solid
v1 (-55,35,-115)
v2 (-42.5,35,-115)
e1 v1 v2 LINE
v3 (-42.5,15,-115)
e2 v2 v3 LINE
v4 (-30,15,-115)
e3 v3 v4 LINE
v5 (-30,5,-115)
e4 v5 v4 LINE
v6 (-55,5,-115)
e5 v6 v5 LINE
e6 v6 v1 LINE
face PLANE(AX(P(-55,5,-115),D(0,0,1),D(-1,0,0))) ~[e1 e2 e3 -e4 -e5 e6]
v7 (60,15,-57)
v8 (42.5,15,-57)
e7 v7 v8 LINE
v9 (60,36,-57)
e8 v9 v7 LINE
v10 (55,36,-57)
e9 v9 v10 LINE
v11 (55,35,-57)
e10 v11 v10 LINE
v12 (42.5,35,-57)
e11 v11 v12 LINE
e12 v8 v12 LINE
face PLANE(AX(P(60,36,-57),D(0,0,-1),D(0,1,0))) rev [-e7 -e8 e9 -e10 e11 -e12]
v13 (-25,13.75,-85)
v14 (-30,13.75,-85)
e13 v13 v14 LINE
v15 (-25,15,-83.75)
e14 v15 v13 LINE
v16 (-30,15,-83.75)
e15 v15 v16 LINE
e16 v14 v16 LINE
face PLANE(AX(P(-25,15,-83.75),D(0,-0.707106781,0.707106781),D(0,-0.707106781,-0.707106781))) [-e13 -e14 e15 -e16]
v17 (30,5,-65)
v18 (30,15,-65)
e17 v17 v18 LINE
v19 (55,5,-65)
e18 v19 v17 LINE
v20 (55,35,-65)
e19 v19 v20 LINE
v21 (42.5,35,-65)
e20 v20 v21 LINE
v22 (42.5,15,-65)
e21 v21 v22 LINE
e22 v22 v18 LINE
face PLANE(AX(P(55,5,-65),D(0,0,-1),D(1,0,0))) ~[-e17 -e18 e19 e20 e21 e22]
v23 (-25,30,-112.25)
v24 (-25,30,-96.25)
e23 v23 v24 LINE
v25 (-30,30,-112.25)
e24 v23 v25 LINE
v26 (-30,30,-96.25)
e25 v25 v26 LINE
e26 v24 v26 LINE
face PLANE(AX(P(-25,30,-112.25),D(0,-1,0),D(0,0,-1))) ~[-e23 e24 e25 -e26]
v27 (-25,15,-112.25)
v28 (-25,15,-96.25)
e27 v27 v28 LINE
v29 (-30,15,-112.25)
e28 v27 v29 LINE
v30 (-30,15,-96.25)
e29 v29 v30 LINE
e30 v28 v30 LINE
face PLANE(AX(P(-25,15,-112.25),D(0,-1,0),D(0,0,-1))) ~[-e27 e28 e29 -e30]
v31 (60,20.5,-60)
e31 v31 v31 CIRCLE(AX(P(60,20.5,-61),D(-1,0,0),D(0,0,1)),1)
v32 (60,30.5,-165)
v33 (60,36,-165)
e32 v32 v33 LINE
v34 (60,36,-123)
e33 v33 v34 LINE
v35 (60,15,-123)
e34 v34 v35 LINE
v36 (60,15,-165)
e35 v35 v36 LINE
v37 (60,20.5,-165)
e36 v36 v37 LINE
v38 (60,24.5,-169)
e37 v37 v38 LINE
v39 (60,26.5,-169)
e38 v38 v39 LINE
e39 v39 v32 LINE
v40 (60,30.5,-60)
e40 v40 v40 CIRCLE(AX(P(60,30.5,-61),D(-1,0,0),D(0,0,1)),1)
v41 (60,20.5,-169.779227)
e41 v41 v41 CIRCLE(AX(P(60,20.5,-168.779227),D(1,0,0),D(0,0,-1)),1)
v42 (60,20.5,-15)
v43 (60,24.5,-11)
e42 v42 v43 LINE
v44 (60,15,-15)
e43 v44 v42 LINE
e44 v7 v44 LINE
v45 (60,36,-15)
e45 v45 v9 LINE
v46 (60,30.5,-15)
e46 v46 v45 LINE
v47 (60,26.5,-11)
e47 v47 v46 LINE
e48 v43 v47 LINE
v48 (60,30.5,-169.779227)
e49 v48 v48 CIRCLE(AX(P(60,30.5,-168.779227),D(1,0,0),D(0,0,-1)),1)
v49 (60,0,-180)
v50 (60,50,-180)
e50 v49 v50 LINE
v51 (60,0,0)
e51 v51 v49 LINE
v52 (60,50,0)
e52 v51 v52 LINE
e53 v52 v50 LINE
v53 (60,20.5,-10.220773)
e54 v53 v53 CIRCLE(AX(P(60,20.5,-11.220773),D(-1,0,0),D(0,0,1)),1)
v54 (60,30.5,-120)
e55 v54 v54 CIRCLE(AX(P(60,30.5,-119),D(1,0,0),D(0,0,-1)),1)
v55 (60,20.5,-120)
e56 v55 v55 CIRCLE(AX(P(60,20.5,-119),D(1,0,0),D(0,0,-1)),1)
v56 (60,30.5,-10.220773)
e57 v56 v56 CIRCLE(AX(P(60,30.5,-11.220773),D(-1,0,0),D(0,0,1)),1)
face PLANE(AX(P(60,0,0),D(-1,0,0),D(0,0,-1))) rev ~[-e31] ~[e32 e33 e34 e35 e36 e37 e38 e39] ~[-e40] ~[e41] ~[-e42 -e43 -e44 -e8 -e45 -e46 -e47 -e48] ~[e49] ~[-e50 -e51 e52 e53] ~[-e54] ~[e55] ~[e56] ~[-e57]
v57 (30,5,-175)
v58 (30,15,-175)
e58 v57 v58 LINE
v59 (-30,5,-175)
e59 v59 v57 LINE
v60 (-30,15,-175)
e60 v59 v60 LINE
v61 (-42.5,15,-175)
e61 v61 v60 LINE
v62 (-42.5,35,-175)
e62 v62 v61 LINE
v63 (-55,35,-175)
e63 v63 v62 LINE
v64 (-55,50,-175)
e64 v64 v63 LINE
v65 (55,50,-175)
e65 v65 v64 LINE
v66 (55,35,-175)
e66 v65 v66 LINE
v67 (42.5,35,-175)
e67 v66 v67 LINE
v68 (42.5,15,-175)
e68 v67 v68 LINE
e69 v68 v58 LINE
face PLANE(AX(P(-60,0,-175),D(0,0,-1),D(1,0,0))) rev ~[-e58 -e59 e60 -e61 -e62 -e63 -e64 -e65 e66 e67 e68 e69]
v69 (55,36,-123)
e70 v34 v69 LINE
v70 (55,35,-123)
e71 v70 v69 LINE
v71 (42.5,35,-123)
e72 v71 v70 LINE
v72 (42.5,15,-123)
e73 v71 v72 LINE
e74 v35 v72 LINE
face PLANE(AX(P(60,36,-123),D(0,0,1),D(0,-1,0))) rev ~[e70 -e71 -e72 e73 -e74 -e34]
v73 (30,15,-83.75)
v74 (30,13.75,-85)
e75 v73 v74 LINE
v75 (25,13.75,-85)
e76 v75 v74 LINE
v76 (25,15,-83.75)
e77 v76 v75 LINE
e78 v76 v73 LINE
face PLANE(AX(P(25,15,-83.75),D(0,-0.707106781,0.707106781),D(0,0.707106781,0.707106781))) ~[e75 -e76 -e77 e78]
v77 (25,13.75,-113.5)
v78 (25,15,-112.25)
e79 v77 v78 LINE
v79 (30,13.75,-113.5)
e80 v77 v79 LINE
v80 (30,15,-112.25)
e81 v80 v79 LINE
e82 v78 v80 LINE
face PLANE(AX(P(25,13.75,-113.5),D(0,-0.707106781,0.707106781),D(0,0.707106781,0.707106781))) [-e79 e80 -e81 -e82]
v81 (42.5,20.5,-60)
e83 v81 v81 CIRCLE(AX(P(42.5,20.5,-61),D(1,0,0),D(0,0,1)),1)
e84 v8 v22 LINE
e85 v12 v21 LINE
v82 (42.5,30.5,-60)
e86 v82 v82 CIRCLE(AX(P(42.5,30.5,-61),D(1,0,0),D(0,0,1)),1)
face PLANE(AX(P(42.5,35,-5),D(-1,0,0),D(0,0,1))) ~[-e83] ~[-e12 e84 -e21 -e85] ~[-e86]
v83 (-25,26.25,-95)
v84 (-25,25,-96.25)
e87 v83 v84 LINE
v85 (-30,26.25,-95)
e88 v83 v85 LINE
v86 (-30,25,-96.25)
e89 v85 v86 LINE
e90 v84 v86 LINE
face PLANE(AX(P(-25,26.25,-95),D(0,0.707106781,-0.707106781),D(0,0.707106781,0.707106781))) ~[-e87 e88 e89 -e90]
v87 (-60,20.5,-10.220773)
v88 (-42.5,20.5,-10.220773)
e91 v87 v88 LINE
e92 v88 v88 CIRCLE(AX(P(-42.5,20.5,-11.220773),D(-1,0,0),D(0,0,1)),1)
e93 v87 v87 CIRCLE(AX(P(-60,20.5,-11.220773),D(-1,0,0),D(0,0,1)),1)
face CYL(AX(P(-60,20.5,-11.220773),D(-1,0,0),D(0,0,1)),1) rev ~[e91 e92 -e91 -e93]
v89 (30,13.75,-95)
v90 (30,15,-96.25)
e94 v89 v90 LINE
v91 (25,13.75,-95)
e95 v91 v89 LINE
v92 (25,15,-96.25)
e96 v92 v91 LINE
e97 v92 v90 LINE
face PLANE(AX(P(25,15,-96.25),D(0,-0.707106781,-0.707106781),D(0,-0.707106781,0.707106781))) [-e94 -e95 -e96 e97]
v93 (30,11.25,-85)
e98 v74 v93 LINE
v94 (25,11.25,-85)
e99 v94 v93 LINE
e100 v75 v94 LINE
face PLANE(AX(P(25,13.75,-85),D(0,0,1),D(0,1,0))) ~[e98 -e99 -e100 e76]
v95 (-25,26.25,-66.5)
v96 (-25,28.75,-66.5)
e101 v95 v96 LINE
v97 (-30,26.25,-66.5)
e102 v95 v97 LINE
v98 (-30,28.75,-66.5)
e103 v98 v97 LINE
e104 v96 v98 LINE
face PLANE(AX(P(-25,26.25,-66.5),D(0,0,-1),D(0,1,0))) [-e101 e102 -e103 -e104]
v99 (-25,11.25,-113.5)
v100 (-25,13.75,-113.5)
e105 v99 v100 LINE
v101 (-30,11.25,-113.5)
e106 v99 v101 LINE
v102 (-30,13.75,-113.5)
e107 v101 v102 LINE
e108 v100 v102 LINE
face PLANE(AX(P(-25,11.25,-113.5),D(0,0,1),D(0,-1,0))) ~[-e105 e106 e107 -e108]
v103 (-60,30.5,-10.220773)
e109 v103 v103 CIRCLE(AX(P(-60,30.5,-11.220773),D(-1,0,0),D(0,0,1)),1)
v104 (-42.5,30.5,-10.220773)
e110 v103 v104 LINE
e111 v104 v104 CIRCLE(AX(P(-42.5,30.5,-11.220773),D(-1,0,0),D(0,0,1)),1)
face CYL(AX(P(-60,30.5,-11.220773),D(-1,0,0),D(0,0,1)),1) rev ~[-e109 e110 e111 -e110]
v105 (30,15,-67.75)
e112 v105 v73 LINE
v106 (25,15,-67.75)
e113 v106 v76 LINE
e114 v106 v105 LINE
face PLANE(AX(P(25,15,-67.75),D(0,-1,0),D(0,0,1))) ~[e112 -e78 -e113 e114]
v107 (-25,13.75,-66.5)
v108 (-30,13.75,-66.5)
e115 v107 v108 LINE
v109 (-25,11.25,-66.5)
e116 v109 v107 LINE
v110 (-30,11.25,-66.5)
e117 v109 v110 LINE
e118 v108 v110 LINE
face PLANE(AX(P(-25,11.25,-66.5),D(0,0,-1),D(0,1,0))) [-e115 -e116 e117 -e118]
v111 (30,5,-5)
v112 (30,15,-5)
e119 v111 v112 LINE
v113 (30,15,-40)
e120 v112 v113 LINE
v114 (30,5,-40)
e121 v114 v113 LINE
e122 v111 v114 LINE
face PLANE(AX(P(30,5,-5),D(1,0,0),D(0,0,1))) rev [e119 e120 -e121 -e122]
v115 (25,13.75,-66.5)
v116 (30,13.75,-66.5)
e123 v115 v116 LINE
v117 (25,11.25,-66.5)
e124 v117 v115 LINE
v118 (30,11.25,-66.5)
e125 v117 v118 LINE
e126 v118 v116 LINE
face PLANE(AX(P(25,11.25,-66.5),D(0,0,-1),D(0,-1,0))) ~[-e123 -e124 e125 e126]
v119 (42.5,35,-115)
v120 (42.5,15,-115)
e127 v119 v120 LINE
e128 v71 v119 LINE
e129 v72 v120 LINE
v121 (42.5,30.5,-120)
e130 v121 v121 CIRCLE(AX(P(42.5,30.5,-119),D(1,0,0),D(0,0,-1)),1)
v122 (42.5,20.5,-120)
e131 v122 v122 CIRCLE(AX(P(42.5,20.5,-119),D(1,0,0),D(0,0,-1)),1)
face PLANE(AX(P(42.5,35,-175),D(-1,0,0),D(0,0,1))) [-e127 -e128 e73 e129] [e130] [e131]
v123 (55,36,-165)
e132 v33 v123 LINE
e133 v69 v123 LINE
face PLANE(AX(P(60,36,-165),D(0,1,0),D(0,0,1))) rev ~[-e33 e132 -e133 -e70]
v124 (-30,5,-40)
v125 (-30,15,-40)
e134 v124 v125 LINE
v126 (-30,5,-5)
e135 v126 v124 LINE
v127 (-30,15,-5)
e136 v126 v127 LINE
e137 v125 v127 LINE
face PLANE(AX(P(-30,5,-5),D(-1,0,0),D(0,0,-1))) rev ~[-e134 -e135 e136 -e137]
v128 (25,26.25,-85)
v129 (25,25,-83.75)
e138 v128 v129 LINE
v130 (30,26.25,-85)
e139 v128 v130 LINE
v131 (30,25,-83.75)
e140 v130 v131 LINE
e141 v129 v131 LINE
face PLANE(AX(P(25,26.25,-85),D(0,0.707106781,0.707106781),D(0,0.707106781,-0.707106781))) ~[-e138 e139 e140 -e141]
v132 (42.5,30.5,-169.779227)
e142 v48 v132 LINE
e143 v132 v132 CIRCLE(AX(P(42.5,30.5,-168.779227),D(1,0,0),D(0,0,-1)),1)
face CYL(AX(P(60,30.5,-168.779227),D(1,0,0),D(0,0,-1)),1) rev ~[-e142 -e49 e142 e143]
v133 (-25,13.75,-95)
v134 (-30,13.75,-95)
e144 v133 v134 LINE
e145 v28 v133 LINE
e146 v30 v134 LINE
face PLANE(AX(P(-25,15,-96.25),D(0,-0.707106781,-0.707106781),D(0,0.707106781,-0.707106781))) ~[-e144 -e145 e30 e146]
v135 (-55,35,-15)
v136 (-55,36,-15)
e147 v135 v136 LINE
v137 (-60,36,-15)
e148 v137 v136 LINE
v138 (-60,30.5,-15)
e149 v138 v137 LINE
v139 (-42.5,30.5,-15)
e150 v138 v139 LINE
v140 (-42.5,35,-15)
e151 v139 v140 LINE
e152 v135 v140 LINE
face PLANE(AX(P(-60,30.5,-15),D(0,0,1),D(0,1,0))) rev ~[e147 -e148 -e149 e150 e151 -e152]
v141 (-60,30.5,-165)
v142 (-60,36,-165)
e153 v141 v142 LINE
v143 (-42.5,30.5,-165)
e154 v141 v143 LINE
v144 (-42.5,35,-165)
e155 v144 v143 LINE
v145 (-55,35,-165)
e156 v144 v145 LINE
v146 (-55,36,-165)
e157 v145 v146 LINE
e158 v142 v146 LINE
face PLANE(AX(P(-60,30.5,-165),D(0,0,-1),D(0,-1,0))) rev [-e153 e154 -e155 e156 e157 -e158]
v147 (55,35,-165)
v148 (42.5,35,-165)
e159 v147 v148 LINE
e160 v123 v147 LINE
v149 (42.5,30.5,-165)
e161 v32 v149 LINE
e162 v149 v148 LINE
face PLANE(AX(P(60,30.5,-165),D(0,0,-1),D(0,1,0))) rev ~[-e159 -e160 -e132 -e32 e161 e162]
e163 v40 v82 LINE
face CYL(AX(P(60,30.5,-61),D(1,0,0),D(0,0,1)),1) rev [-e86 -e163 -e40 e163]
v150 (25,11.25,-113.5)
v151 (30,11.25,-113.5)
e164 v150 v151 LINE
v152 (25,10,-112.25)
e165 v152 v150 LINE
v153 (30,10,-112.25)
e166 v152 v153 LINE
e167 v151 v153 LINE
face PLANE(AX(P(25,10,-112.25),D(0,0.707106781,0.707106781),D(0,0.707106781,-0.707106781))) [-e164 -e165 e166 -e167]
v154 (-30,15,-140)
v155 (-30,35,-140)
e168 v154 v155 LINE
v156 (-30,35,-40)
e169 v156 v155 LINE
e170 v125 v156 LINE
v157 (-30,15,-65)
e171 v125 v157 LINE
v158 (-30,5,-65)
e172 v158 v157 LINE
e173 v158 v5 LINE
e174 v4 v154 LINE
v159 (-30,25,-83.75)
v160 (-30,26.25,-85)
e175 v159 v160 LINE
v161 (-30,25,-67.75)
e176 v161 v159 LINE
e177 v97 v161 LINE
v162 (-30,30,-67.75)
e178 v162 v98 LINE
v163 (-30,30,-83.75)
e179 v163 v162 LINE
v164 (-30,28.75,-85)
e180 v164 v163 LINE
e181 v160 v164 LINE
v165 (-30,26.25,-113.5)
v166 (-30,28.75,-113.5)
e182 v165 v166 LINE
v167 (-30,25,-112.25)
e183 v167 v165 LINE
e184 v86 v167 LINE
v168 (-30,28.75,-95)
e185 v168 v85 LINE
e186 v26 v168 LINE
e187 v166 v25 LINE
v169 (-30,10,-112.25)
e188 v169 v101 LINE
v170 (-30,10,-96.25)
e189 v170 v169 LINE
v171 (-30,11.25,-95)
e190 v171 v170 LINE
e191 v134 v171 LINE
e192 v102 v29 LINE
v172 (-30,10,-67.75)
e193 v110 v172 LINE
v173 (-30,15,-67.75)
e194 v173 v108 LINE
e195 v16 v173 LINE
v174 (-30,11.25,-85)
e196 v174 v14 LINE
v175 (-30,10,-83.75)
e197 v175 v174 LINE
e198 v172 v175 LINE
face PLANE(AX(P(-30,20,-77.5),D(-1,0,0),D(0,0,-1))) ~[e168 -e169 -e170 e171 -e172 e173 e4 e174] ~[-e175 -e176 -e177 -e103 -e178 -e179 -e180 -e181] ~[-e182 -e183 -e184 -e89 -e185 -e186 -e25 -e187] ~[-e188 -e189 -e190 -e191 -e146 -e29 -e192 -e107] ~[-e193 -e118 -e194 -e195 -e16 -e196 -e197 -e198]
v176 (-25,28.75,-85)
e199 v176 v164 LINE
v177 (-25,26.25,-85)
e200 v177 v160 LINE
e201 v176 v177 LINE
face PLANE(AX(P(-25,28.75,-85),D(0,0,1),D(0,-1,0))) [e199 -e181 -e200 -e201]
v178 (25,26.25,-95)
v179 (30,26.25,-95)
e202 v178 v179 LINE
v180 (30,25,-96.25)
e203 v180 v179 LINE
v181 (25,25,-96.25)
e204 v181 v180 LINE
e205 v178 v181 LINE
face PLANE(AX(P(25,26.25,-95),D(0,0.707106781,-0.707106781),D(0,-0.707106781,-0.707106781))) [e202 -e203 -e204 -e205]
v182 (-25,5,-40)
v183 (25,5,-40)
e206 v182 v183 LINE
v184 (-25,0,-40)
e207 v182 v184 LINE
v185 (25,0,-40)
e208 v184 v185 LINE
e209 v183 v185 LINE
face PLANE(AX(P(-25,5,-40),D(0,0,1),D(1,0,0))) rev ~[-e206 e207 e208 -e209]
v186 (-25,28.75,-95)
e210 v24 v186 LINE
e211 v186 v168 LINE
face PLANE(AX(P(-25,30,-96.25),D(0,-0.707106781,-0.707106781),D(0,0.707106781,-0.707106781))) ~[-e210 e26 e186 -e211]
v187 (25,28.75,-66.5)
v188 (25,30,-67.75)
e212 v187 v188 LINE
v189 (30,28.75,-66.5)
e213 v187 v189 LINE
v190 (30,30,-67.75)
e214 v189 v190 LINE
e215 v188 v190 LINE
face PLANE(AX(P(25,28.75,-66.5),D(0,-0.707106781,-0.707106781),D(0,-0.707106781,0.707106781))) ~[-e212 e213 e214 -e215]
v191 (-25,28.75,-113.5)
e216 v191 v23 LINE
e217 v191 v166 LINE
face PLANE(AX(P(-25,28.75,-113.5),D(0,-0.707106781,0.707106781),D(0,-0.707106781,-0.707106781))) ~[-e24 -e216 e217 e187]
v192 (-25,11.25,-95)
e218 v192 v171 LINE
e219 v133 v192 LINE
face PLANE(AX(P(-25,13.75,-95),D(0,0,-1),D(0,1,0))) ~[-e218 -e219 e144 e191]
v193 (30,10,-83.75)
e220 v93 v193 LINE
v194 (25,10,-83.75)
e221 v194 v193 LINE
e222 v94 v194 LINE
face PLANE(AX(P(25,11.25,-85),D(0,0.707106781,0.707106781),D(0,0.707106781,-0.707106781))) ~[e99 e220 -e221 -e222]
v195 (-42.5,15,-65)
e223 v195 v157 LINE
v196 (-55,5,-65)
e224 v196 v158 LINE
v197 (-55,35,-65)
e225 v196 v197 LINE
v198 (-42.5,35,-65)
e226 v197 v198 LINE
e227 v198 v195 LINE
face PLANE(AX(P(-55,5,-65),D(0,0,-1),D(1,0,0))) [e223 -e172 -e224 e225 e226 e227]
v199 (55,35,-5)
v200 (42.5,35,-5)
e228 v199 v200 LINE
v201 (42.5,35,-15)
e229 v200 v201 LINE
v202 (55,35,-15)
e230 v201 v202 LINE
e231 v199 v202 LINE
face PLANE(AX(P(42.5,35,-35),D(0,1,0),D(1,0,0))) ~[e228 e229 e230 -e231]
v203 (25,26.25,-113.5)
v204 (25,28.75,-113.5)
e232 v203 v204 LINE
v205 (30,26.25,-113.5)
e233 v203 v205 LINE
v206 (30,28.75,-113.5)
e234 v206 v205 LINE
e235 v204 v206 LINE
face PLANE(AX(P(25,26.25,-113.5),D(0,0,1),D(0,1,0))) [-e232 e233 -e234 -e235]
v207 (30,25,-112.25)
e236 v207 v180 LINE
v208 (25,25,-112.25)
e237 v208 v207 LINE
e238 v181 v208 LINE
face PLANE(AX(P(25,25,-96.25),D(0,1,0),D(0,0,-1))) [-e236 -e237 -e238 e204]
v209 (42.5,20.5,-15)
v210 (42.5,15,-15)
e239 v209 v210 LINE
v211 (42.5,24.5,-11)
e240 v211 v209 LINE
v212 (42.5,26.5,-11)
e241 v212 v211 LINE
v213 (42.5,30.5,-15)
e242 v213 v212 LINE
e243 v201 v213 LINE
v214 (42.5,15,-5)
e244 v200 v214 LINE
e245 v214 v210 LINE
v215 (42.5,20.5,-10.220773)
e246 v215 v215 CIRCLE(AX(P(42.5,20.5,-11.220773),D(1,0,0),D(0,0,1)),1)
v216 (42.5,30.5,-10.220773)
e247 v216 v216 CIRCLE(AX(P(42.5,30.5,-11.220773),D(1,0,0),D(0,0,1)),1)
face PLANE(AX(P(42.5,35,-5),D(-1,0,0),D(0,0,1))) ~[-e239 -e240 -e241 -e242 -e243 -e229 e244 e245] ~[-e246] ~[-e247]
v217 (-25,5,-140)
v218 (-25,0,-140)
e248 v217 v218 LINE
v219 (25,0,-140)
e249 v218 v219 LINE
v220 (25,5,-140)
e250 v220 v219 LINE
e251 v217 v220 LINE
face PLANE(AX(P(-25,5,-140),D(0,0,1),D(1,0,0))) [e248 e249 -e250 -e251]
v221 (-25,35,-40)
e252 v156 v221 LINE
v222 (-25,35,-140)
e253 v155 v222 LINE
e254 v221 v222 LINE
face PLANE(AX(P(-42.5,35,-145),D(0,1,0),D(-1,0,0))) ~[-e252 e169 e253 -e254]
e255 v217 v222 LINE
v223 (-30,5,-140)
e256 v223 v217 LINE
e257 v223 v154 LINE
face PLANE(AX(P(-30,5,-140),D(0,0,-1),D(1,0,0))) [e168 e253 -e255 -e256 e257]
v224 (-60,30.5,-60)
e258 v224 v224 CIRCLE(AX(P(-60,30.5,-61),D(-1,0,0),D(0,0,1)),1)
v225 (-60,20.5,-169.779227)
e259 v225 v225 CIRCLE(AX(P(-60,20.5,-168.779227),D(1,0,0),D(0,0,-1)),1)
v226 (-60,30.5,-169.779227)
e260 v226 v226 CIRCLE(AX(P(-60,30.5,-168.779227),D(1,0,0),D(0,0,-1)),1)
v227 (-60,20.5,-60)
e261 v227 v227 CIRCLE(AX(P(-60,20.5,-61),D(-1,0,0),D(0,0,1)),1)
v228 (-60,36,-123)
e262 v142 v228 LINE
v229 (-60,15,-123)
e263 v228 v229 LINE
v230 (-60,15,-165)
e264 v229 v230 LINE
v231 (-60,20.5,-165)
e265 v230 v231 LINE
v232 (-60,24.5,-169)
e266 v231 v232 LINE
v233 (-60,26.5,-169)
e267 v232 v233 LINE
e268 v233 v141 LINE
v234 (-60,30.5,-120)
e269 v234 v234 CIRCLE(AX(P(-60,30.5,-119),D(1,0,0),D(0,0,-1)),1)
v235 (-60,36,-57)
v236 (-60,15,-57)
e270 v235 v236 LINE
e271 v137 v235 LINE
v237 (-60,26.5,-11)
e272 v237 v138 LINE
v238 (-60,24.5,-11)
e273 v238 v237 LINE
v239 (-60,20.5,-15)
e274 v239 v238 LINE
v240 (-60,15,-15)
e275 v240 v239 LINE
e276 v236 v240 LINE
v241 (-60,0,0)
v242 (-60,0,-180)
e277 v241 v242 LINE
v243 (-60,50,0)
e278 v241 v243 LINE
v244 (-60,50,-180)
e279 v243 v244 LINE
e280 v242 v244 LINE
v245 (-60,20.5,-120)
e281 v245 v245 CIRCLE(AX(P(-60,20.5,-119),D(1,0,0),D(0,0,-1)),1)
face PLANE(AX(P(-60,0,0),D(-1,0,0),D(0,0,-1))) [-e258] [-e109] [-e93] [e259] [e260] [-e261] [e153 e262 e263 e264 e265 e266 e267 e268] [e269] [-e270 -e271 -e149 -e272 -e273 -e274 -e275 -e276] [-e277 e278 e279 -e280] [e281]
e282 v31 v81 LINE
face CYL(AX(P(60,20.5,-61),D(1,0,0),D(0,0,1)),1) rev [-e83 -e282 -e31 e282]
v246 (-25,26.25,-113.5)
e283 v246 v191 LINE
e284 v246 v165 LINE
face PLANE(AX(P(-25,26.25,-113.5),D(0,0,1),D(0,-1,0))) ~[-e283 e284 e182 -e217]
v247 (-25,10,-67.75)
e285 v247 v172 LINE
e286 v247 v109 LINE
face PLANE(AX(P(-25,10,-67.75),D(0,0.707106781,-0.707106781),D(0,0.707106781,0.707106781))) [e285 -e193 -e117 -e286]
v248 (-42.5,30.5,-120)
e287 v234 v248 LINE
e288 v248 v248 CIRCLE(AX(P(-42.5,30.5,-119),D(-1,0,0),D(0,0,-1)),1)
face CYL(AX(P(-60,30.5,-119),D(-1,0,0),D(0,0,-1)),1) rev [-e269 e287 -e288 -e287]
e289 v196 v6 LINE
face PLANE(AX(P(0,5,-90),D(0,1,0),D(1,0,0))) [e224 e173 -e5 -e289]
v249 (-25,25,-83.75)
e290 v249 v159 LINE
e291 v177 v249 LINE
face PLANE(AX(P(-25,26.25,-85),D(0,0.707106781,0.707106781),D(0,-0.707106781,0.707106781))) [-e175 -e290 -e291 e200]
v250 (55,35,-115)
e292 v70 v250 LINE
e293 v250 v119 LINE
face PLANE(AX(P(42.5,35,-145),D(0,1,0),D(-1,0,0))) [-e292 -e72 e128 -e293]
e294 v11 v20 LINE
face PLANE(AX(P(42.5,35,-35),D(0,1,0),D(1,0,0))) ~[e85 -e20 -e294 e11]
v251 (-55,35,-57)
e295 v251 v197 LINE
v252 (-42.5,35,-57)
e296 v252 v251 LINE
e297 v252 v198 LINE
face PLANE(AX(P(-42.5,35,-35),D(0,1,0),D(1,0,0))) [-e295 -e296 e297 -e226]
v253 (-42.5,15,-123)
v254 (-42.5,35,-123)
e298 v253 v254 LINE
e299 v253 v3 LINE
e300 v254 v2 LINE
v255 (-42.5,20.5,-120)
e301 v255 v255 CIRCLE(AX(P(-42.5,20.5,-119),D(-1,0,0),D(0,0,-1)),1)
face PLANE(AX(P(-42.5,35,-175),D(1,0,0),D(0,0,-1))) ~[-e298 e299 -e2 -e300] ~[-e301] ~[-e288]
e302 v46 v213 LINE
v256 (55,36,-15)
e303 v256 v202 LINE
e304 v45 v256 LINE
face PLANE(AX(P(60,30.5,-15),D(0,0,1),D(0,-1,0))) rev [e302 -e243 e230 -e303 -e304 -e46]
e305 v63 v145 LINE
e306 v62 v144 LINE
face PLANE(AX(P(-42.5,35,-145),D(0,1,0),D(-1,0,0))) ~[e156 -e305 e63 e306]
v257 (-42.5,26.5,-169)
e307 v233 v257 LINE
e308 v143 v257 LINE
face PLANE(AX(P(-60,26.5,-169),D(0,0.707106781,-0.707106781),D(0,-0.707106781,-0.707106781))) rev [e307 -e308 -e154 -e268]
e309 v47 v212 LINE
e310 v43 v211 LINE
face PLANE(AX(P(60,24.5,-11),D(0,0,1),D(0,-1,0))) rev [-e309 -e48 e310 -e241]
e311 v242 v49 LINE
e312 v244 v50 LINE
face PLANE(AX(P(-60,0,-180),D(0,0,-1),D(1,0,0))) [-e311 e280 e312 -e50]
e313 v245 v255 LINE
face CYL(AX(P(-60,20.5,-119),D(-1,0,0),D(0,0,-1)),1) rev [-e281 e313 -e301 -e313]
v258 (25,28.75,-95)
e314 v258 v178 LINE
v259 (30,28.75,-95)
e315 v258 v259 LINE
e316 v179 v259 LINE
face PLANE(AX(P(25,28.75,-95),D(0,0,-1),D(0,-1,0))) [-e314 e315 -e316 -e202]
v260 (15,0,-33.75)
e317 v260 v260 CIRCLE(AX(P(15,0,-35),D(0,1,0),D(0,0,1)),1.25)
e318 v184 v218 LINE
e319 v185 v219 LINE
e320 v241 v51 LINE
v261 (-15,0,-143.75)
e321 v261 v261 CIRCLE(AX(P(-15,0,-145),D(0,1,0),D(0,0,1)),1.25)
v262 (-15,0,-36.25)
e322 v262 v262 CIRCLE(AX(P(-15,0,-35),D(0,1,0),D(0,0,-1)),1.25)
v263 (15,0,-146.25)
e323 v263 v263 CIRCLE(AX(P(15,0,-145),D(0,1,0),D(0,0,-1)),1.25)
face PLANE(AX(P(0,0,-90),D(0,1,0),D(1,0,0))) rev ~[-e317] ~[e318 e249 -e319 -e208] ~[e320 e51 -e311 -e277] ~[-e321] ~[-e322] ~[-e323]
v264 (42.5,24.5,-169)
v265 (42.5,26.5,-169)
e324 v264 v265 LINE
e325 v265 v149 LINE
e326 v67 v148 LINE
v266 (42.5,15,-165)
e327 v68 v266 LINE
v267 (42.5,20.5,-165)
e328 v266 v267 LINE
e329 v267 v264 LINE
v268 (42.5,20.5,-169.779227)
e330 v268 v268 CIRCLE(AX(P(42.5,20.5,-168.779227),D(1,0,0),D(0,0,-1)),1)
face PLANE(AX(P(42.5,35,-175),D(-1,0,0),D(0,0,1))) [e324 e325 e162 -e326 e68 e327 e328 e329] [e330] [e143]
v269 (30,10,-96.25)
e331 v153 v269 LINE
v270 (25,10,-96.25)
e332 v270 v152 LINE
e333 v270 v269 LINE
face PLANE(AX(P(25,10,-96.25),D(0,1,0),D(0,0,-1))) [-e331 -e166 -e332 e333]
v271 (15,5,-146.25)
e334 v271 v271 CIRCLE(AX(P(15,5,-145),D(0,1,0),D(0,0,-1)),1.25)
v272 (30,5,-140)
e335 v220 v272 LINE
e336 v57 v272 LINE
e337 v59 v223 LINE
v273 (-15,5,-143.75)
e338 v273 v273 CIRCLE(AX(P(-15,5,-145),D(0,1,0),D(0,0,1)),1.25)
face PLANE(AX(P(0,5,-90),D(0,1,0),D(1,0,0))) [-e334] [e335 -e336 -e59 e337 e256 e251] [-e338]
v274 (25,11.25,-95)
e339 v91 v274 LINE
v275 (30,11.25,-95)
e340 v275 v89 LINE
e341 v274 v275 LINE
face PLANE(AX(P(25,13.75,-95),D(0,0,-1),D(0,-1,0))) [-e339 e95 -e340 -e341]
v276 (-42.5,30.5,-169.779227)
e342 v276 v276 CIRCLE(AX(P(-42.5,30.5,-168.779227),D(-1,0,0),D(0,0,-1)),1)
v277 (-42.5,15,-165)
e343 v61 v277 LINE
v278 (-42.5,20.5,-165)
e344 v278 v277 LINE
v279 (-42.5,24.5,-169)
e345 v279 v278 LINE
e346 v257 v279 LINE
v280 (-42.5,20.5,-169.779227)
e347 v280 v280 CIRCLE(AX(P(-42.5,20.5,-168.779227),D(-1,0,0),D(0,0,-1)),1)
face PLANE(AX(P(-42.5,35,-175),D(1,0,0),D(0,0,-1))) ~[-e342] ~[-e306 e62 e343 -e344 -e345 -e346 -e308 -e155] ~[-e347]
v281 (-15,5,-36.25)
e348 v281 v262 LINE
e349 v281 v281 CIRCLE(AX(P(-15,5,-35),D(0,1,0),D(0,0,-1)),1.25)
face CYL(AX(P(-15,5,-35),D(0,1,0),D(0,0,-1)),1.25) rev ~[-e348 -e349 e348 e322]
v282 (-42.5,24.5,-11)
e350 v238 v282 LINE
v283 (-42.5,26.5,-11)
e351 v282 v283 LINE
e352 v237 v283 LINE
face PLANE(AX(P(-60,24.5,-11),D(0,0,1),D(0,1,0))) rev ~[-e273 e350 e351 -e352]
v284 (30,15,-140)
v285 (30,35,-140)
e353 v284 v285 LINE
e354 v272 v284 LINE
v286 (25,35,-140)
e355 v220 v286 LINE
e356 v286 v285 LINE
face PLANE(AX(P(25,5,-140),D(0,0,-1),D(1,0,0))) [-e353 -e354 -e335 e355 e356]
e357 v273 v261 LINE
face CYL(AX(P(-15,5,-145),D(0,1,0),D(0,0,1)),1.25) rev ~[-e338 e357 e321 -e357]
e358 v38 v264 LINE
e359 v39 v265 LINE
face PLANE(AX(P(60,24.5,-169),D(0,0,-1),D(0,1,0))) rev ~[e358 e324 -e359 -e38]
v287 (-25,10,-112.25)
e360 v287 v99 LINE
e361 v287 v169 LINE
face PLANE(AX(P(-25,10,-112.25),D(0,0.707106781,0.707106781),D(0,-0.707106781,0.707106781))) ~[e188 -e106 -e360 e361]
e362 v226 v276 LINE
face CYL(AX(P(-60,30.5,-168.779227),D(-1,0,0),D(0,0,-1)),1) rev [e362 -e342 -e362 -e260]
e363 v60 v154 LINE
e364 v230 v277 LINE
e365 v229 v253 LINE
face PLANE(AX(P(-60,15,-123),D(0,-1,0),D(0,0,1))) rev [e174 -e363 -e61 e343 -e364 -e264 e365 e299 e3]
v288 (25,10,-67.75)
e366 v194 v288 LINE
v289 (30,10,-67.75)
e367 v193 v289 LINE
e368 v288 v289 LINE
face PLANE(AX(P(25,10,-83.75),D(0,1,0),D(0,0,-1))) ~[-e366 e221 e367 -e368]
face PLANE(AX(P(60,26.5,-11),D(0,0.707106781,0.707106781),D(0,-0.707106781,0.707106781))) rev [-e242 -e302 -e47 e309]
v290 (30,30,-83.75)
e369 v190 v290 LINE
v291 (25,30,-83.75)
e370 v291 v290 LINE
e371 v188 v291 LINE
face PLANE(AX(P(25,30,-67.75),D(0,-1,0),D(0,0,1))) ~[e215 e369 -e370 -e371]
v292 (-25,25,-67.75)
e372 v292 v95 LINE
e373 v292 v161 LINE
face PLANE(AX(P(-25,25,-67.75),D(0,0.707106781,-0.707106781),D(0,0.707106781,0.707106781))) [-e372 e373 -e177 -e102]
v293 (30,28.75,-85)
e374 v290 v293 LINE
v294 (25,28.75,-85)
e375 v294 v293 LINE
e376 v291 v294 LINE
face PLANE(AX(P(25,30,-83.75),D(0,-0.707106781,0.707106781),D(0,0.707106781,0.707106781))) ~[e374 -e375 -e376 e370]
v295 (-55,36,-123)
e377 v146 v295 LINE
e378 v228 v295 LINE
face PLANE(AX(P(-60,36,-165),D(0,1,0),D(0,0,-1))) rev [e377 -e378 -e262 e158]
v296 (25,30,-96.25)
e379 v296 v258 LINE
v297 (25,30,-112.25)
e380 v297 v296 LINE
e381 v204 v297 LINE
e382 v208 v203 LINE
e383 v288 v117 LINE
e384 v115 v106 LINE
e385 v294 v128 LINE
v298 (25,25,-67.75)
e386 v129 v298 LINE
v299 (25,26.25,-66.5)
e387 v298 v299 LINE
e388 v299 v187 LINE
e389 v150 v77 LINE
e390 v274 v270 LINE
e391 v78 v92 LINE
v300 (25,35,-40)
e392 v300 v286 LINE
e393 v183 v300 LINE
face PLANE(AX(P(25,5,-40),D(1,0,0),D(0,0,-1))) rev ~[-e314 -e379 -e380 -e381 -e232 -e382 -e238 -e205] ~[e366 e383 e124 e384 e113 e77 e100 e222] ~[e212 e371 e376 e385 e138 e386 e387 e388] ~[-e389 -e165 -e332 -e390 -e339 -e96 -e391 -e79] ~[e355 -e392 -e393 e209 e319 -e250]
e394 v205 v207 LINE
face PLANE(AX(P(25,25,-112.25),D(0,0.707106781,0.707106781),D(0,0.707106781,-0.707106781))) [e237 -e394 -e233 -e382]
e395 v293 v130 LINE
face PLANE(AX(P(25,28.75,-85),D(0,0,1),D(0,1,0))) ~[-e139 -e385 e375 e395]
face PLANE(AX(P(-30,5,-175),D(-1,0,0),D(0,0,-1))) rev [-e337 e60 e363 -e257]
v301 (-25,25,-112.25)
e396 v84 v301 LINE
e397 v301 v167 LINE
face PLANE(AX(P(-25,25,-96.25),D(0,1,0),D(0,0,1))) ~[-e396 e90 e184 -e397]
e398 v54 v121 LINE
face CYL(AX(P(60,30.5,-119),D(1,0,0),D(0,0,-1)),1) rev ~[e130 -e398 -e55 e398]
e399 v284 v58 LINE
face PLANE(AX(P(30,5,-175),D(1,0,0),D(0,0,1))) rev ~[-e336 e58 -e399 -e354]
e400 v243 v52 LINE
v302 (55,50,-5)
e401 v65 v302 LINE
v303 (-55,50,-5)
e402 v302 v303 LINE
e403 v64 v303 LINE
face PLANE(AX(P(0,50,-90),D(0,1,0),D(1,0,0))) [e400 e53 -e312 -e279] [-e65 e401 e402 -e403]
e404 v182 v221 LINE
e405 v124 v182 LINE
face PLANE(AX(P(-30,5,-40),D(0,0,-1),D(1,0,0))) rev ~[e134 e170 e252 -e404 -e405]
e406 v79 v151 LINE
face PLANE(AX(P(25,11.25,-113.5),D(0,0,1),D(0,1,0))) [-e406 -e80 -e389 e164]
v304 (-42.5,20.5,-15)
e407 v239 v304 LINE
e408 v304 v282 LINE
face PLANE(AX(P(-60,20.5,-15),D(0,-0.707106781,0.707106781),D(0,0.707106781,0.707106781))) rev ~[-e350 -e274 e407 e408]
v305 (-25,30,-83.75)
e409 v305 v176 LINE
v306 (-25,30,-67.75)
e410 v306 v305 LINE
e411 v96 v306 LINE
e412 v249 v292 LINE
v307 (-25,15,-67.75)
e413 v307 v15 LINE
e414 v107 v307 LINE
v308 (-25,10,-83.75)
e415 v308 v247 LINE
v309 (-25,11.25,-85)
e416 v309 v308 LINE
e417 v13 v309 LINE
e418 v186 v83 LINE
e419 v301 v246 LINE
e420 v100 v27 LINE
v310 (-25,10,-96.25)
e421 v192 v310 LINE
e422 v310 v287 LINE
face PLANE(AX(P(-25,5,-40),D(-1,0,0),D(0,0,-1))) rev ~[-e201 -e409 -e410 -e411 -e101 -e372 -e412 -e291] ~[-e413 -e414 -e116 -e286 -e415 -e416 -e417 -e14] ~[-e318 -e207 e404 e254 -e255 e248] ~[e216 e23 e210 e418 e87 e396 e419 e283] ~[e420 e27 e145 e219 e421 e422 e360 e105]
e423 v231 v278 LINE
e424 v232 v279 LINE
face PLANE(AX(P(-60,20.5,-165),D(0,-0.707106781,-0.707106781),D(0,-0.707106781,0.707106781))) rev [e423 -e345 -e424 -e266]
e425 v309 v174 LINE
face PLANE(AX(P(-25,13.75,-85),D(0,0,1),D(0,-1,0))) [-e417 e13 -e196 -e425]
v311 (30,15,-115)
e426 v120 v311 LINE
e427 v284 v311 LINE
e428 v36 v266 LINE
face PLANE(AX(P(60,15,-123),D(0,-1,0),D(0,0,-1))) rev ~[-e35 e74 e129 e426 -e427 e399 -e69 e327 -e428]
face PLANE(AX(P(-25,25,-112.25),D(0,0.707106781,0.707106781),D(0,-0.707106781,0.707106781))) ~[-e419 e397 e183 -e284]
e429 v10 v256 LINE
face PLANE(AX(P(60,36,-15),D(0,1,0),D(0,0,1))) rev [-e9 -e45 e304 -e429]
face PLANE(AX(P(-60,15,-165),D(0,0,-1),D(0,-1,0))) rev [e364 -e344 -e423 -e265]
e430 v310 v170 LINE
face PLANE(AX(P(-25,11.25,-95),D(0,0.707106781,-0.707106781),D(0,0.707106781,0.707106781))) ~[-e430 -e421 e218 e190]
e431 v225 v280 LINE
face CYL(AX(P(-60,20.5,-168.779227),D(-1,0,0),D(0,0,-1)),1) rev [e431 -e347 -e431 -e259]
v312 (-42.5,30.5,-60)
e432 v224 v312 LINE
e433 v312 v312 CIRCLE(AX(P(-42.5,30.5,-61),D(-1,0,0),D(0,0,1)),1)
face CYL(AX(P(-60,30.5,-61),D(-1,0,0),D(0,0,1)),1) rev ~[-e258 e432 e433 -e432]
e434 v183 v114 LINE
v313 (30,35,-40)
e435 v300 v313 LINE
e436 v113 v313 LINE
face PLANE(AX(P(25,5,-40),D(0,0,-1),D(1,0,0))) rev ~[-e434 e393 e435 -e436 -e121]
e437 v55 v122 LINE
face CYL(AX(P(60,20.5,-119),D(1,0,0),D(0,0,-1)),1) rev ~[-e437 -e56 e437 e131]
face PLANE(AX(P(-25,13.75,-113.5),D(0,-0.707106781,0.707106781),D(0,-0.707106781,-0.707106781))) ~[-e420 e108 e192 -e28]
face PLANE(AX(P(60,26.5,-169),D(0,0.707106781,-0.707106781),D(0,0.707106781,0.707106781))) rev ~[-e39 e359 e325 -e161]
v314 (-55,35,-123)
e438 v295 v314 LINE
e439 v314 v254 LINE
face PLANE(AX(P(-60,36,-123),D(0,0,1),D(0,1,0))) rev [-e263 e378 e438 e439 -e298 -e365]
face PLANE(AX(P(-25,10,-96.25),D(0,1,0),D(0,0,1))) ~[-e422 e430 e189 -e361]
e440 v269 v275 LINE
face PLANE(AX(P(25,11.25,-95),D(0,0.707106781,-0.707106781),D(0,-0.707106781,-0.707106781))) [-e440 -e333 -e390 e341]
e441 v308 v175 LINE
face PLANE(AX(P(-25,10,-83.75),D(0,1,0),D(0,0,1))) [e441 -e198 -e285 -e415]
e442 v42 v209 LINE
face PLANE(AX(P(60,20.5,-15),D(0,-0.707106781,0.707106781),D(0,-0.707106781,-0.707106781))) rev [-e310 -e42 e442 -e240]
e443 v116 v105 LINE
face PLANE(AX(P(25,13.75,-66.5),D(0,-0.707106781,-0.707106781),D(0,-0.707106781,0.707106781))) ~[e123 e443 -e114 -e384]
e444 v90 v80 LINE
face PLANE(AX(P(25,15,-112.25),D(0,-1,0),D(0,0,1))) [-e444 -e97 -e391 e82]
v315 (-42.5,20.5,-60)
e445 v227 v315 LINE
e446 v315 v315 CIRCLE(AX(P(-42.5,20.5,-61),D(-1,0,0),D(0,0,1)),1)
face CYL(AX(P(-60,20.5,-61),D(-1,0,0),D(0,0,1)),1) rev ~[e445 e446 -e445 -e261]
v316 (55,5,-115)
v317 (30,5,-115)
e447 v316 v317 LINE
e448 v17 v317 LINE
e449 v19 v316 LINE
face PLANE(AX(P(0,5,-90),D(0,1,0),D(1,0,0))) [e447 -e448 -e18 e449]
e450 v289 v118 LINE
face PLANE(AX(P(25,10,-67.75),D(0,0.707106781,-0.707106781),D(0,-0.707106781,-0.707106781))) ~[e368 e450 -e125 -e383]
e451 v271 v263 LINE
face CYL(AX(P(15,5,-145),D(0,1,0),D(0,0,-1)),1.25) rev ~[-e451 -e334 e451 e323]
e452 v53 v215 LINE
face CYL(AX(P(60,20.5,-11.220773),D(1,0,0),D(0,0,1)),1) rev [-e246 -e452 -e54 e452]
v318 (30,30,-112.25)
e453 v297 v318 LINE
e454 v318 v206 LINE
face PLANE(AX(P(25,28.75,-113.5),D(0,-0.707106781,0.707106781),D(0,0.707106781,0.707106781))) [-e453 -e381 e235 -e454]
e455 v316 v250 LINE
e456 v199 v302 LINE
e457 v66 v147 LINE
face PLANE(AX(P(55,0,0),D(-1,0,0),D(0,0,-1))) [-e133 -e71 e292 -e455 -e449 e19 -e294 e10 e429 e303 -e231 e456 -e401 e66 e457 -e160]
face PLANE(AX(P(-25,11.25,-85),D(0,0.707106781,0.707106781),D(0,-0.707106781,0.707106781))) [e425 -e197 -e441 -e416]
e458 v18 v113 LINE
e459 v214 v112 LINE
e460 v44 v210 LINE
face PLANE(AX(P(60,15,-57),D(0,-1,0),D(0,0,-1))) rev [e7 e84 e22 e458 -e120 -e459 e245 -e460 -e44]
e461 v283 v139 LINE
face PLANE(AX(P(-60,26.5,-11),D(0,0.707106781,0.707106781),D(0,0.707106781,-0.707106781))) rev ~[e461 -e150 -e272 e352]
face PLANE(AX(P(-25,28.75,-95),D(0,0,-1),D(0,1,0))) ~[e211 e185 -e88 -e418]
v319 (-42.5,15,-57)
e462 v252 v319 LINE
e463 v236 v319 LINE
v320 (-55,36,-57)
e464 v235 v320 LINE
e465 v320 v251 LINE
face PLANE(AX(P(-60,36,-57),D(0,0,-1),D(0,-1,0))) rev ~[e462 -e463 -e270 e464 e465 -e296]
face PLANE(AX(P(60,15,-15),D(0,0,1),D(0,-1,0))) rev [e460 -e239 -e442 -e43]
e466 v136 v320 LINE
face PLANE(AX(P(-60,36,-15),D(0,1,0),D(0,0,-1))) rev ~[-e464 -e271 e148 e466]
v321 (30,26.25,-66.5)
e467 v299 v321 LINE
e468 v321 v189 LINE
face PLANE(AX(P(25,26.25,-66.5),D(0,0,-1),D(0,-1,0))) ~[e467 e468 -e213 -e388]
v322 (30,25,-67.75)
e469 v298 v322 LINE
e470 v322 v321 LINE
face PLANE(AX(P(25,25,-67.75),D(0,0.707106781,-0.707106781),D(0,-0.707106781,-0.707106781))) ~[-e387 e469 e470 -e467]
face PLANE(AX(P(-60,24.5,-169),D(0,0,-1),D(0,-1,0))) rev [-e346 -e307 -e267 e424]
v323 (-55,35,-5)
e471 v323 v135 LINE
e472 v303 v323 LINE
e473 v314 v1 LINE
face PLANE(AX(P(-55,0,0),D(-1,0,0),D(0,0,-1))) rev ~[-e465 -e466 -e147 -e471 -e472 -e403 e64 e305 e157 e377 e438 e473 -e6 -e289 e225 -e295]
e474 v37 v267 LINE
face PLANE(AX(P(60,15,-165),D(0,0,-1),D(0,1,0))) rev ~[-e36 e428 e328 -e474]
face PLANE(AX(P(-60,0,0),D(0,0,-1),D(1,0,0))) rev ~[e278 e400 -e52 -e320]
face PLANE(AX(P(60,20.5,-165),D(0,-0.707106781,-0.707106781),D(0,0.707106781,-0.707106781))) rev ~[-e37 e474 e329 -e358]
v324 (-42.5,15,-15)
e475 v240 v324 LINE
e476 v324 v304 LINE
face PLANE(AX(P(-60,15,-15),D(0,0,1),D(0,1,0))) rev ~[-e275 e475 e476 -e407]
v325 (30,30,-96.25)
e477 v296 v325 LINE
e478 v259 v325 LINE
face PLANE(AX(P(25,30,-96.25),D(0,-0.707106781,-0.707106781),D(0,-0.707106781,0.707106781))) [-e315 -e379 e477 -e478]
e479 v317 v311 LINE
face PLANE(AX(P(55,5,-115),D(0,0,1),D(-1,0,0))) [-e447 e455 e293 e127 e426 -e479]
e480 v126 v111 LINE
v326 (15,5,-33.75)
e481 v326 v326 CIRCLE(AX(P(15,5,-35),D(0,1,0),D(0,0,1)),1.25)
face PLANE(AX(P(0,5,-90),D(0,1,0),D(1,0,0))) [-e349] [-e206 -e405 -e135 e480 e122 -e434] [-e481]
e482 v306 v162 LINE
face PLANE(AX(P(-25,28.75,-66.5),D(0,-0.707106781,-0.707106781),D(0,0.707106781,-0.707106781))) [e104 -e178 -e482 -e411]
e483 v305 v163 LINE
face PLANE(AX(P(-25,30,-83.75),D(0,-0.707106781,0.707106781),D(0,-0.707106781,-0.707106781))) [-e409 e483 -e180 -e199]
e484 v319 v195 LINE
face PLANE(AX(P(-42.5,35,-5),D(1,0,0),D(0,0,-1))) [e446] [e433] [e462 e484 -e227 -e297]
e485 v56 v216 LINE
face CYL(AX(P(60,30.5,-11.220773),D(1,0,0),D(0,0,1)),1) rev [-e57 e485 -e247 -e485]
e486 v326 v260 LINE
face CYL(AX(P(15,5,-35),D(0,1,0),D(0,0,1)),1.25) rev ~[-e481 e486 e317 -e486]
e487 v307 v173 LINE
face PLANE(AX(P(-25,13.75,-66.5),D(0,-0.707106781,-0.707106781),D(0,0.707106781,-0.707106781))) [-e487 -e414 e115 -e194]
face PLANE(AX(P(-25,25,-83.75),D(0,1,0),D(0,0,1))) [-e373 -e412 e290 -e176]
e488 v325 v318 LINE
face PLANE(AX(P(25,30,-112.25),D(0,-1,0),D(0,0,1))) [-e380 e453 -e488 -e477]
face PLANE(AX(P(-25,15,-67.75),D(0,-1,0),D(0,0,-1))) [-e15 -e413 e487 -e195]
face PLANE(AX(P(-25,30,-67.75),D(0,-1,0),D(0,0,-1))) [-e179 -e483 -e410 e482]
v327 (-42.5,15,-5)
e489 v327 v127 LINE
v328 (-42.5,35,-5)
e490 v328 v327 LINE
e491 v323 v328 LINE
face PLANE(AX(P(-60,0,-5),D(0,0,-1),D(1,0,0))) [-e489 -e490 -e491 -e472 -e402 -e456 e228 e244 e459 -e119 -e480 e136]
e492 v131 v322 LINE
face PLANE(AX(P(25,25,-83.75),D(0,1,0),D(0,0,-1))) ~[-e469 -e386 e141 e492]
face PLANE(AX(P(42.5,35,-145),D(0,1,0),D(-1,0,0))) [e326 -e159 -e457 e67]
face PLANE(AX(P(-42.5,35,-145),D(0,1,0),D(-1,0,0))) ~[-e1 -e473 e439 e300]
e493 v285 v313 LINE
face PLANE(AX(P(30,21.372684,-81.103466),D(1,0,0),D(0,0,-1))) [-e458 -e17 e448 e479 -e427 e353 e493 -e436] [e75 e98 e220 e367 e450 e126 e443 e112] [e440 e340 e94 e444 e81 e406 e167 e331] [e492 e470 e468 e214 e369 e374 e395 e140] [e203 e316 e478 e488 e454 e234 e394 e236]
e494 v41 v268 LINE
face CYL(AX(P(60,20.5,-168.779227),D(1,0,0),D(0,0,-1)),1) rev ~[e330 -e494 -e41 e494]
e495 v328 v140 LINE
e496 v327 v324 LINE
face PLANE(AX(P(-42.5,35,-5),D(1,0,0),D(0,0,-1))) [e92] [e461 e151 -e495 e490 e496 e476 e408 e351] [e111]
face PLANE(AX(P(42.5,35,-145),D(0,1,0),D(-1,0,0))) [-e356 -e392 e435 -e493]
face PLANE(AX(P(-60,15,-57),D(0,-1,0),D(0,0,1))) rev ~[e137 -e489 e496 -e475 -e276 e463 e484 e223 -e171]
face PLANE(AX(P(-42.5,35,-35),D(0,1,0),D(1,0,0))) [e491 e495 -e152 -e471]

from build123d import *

# Parameters (mm, degrees)
SKETCH1_W               = 120
SKETCH1_H               = 180
BOSS_EXTRUDE1_DEPTH     = 50
SHELL1_T                = -5
SKETCH2_W               = 5
SKETCH2_H               = 100
BOSS_EXTRUDE2_DEPTH     = 30
SKETCH3_W               = 25
SKETCH3_H               = 60
BOSS_EXTRUDE3_DEPTH     = 30
CUT_EXTRUDE1_REACH      = 224.036
SKETCH4_R               = 1
SKETCH5_W               = 12.5
SKETCH5_H               = 60
CUT_EXTRUDE2_DEPTH      = 20
CUT_EXTRUDE4_DEPTH      = 10
SKETCH6_R               = 1.25
SKETCH6_W               = 50
SKETCH6_H               = 100
CUT_EXTRUDE3_DEPTH      = 10
MIRROR2_COPY_1_SKETCH_W = 25
MIRROR2_COPY_1_SKETCH_H = 60
MIRROR2_COPY_1_DEPTH    = 30
MIRROR2_COPY_2_REACH    = 224.036
MIRROR2_COPY_2_SKETCH_R = 1
MIRROR2_COPY_3_SKETCH_W = 12.5
MIRROR2_COPY_3_SKETCH_H = 60
MIRROR2_COPY_3_DEPTH    = 20
MIRROR2_COPY_4_DEPTH    = 10


with BuildPart() as part:
    # Sketch1 → Boss-Extrude1 (new body)
    with BuildSketch(Plane(origin=(0, 0, 0), x_dir=(1, 0, 0), z_dir=(0, 1, 0))):
        with Locations((0, 90)):
            Rectangle(SKETCH1_W, SKETCH1_H)
    extrude(amount=BOSS_EXTRUDE1_DEPTH)

    # Shell1
    shell1_openings = [part.faces().sort_by_distance(p)[0] for p in [
        (0, 50, -90),
    ]]
    offset(amount=SHELL1_T, openings=shell1_openings, kind=Kind.INTERSECTION)

    # Sketch2 → Boss-Extrude2 (add)
    with BuildSketch(Plane(origin=(0, 5, 0), x_dir=(1, 0, 0), z_dir=(0, 1, 0))):
        with Locations((-27.5, 90)):
            Rectangle(SKETCH2_W, SKETCH2_H)
        with Locations((27.5, 90)):
            Rectangle(SKETCH2_W, SKETCH2_H)
    extrude(amount=BOSS_EXTRUDE2_DEPTH)

    # Sketch3 → Boss-Extrude3 (add)
    with BuildSketch(Plane(origin=(0, 5, 0), x_dir=(1, 0, 0), z_dir=(0, 1, 0))):
        with Locations((-42.5, 35)):
            Rectangle(SKETCH3_W, SKETCH3_H)
    boss_extrude3 = extrude(amount=BOSS_EXTRUDE3_DEPTH)

    # Cut-Extrude1: up to this face of the body (flat: up to its plane)
    cut_extrude1_end = Plane(part.part.faces().sort_by_distance((-30, 20, -102.5))[0])
    # Sketch4 → Cut-Extrude1 (cut, up to the picked face)
    with BuildSketch(Plane.ZY.offset(60), mode=Mode.PRIVATE) as cut_extrude1_sk1:
        with Locations((-61, 30.5)):
            Circle(SKETCH4_R)
    cut_extrude1_tool1 = split(extrude(cut_extrude1_sk1.sketch, amount=-CUT_EXTRUDE1_REACH, mode=Mode.PRIVATE), bisect_by=cut_extrude1_end, keep=Keep.BOTH, mode=Mode.PRIVATE)
    # Sketch4 → Cut-Extrude1 (cut, up to the picked face)
    with BuildSketch(Plane.ZY.offset(60), mode=Mode.PRIVATE) as cut_extrude1_sk2:
        with Locations((-61, 20.5)):
            Circle(SKETCH4_R)
    cut_extrude1_tool2 = split(extrude(cut_extrude1_sk2.sketch, amount=-CUT_EXTRUDE1_REACH, mode=Mode.PRIVATE), bisect_by=cut_extrude1_end, keep=Keep.BOTH, mode=Mode.PRIVATE)
    # Sketch4 → Cut-Extrude1 (cut, up to the picked face)
    with BuildSketch(Plane.ZY.offset(60), mode=Mode.PRIVATE) as cut_extrude1_sk3:
        with Locations((-11.220773398, 30.5)):
            Circle(SKETCH4_R)
    cut_extrude1_tool3 = split(extrude(cut_extrude1_sk3.sketch, amount=-CUT_EXTRUDE1_REACH, mode=Mode.PRIVATE), bisect_by=cut_extrude1_end, keep=Keep.BOTH, mode=Mode.PRIVATE)
    # Sketch4 → Cut-Extrude1 (cut, up to the picked face)
    with BuildSketch(Plane.ZY.offset(60), mode=Mode.PRIVATE) as cut_extrude1_sk4:
        with Locations((-11.220773398, 20.5)):
            Circle(SKETCH4_R)
    cut_extrude1_tool4 = split(extrude(cut_extrude1_sk4.sketch, amount=-CUT_EXTRUDE1_REACH, mode=Mode.PRIVATE), bisect_by=cut_extrude1_end, keep=Keep.BOTH, mode=Mode.PRIVATE)
    # Sketch4 → Cut-Extrude1 (cut, up to the picked face)
    with BuildSketch(Plane.ZY.offset(60), mode=Mode.PRIVATE) as cut_extrude1_sk5:
        Polygon((-57, 15), (-15, 15), (-15, 20.5), (-11, 24.5), (-11, 26.5), (-15, 30.5), (-15, 36), (-57, 36), align=None)
    cut_extrude1_tool5 = split(extrude(cut_extrude1_sk5.sketch, amount=-CUT_EXTRUDE1_REACH, mode=Mode.PRIVATE), bisect_by=cut_extrude1_end, keep=Keep.BOTH, mode=Mode.PRIVATE)
    cut_extrude1_1 = cut_extrude1_tool1.solids().sort_by(Axis((-60, 30.5, -61), (1, 0, 0)))[0]
    add(cut_extrude1_1, mode=Mode.SUBTRACT)
    cut_extrude1_2 = cut_extrude1_tool2.solids().sort_by(Axis((-60, 20.5, -61), (1, 0, 0)))[0]
    add(cut_extrude1_2, mode=Mode.SUBTRACT)
    cut_extrude1_3 = cut_extrude1_tool3.solids().sort_by(Axis((-60, 30.5, -11.220773), (1, 0, 0)))[0]
    add(cut_extrude1_3, mode=Mode.SUBTRACT)
    cut_extrude1_4 = cut_extrude1_tool4.solids().sort_by(Axis((-60, 20.5, -11.220773), (1, 0, 0)))[0]
    add(cut_extrude1_4, mode=Mode.SUBTRACT)
    cut_extrude1_5 = cut_extrude1_tool5.solids().sort_by(Axis((-60, 25.5, -35.402502), (1, 0, 0)))[0]
    add(cut_extrude1_5, mode=Mode.SUBTRACT)
    cut_extrude1 = cut_extrude1_1 + cut_extrude1_2 + cut_extrude1_3 + cut_extrude1_4 + cut_extrude1_5  # Cut-Extrude1 as one shape, for the pattern or mirror that repeats it

    # Sketch5 → Cut-Extrude2 (cut)
    with BuildSketch(Plane(origin=(0, 35, 0), x_dir=(1, 0, 0), z_dir=(0, 1, 0))):
        with Locations((-36.25, 35)):
            Rectangle(SKETCH5_W, SKETCH5_H)
    cut_extrude2 = extrude(amount=-CUT_EXTRUDE2_DEPTH, mode=Mode.SUBTRACT)

    # Sketch7 → Cut-Extrude4 (cut)
    with BuildSketch(Plane(origin=(-25, 0, 0), x_dir=(0, 0, -1), z_dir=(1, 0, 0))):
        Polygon((66.5, 28.75), (67.75, 30), (83.75, 30), (85, 28.75), (85, 26.25), (83.75, 25), (67.75, 25), (66.5, 26.25), align=None)
        Polygon((66.5, 13.75), (67.75, 15), (83.75, 15), (85, 13.75), (85, 11.25), (83.75, 10), (67.75, 10), (66.5, 11.25), align=None)
    cut_extrude4 = extrude(amount=-CUT_EXTRUDE4_DEPTH, mode=Mode.SUBTRACT)

    # Sketch6 → Cut-Extrude3 (cut)
    with BuildSketch(Plane(origin=(0, 5, 0), x_dir=(1, 0, 0), z_dir=(0, 1, 0))):
        with Locations(Location((-15, 145, 0), (0, 0, 270))):
            Circle(SKETCH6_R)
        with Locations(Location((15, 145, 0), (0, 0, 90))):
            Circle(SKETCH6_R)
        with Locations(Location((15, 35, 0), (0, 0, 270))):
            Circle(SKETCH6_R)
        with Locations(Location((-15, 35, 0), (0, 0, 90))):
            Circle(SKETCH6_R)
        with Locations((0, 90)):
            Rectangle(SKETCH6_W, SKETCH6_H)
    extrude(amount=-CUT_EXTRUDE3_DEPTH, mode=Mode.SUBTRACT)

    # Mirror1: Boss-Extrude3, Cut-Extrude1, Cut-Extrude2 across plane
    add(boss_extrude3.mirror(Plane(origin=(0, 0, 0), x_dir=(0, 0, 1), z_dir=(1, 0, 0))))
    add(cut_extrude1.mirror(Plane(origin=(0, 0, 0), x_dir=(0, 0, 1), z_dir=(1, 0, 0))), mode=Mode.SUBTRACT)
    add(cut_extrude2.mirror(Plane(origin=(0, 0, 0), x_dir=(0, 0, 1), z_dir=(1, 0, 0))), mode=Mode.SUBTRACT)

    # Mirror3: Cut-Extrude4 across plane
    add(cut_extrude4.mirror(Plane(origin=(0, 0, 0), x_dir=(0, 0, 1), z_dir=(1, 0, 0))), mode=Mode.SUBTRACT)

    # Mirror2: Boss-Extrude3, Cut-Extrude1, Cut-Extrude2, Cut-Extrude4 across plane
    add(boss_extrude3.mirror(Plane(origin=(0, 0, -90), x_dir=(1, 0, 0), z_dir=(0, 0, -1))))
    add(cut_extrude1.mirror(Plane(origin=(0, 0, -90), x_dir=(1, 0, 0), z_dir=(0, 0, -1))), mode=Mode.SUBTRACT)
    add(cut_extrude2.mirror(Plane(origin=(0, 0, -90), x_dir=(1, 0, 0), z_dir=(0, 0, -1))), mode=Mode.SUBTRACT)
    add(cut_extrude4.mirror(Plane(origin=(0, 0, -90), x_dir=(1, 0, 0), z_dir=(0, 0, -1))), mode=Mode.SUBTRACT)

    # Mirror2 copy 1 sketch → Mirror2 copy 1 (add)
    with BuildSketch(Plane(origin=(0, 5, -180), x_dir=(-1, 0, 0), z_dir=(0, 1, 0))):
        with Locations((-42.5, 35)):
            Rectangle(MIRROR2_COPY_1_SKETCH_W, MIRROR2_COPY_1_SKETCH_H)
    extrude(amount=MIRROR2_COPY_1_DEPTH)

    # Mirror2 copy 2: up to this face of the body (flat: up to its plane)
    mirror2_copy_2_end = Plane(part.part.faces().sort_by_distance((30, 20, -77.5))[0])
    # Mirror2 copy 2 sketch → Mirror2 copy 2 (cut, up to the picked face)
    with BuildSketch(Plane(origin=(60, 0, -180), x_dir=(0, 0, -1), z_dir=(1, 0, 0)), mode=Mode.PRIVATE) as mirror2_copy_2_sk1:
        with Locations((-61, 30.5)):
            Circle(MIRROR2_COPY_2_SKETCH_R)
    mirror2_copy_2_tool1 = split(extrude(mirror2_copy_2_sk1.sketch, amount=-MIRROR2_COPY_2_REACH, mode=Mode.PRIVATE), bisect_by=mirror2_copy_2_end, keep=Keep.BOTH, mode=Mode.PRIVATE)
    # Mirror2 copy 2 sketch → Mirror2 copy 2 (cut, up to the picked face)
    with BuildSketch(Plane(origin=(60, 0, -180), x_dir=(0, 0, -1), z_dir=(1, 0, 0)), mode=Mode.PRIVATE) as mirror2_copy_2_sk2:
        with Locations((-61, 20.5)):
            Circle(MIRROR2_COPY_2_SKETCH_R)
    mirror2_copy_2_tool2 = split(extrude(mirror2_copy_2_sk2.sketch, amount=-MIRROR2_COPY_2_REACH, mode=Mode.PRIVATE), bisect_by=mirror2_copy_2_end, keep=Keep.BOTH, mode=Mode.PRIVATE)
    # Mirror2 copy 2 sketch → Mirror2 copy 2 (cut, up to the picked face)
    with BuildSketch(Plane(origin=(60, 0, -180), x_dir=(0, 0, -1), z_dir=(1, 0, 0)), mode=Mode.PRIVATE) as mirror2_copy_2_sk3:
        with Locations((-11.220773398, 30.5)):
            Circle(MIRROR2_COPY_2_SKETCH_R)
    mirror2_copy_2_tool3 = split(extrude(mirror2_copy_2_sk3.sketch, amount=-MIRROR2_COPY_2_REACH, mode=Mode.PRIVATE), bisect_by=mirror2_copy_2_end, keep=Keep.BOTH, mode=Mode.PRIVATE)
    # Mirror2 copy 2 sketch → Mirror2 copy 2 (cut, up to the picked face)
    with BuildSketch(Plane(origin=(60, 0, -180), x_dir=(0, 0, -1), z_dir=(1, 0, 0)), mode=Mode.PRIVATE) as mirror2_copy_2_sk4:
        with Locations((-11.220773398, 20.5)):
            Circle(MIRROR2_COPY_2_SKETCH_R)
    mirror2_copy_2_tool4 = split(extrude(mirror2_copy_2_sk4.sketch, amount=-MIRROR2_COPY_2_REACH, mode=Mode.PRIVATE), bisect_by=mirror2_copy_2_end, keep=Keep.BOTH, mode=Mode.PRIVATE)
    # Mirror2 copy 2 sketch → Mirror2 copy 2 (cut, up to the picked face)
    with BuildSketch(Plane(origin=(60, 0, -180), x_dir=(0, 0, -1), z_dir=(1, 0, 0)), mode=Mode.PRIVATE) as mirror2_copy_2_sk5:
        Polygon((-57, 15), (-15, 15), (-15, 20.5), (-11, 24.5), (-11, 26.5), (-15, 30.5), (-15, 36), (-57, 36), align=None)
    mirror2_copy_2_tool5 = split(extrude(mirror2_copy_2_sk5.sketch, amount=-MIRROR2_COPY_2_REACH, mode=Mode.PRIVATE), bisect_by=mirror2_copy_2_end, keep=Keep.BOTH, mode=Mode.PRIVATE)
    add(mirror2_copy_2_tool1.solids().sort_by(Axis((60, 30.5, -119), (-1, 0, 0)))[0], mode=Mode.SUBTRACT)
    add(mirror2_copy_2_tool2.solids().sort_by(Axis((60, 20.5, -119), (-1, 0, 0)))[0], mode=Mode.SUBTRACT)
    add(mirror2_copy_2_tool3.solids().sort_by(Axis((60, 30.5, -168.779227), (-1, 0, 0)))[0], mode=Mode.SUBTRACT)
    add(mirror2_copy_2_tool4.solids().sort_by(Axis((60, 20.5, -168.779227), (-1, 0, 0)))[0], mode=Mode.SUBTRACT)
    add(mirror2_copy_2_tool5.solids().sort_by(Axis((60, 25.5, -144.597498), (-1, 0, 0)))[0], mode=Mode.SUBTRACT)

    # Mirror2 copy 3 sketch → Mirror2 copy 3 (cut)
    with BuildSketch(Plane(origin=(0, 35, -180), x_dir=(-1, 0, 0), z_dir=(0, 1, 0))):
        with Locations((-36.25, 35)):
            Rectangle(MIRROR2_COPY_3_SKETCH_W, MIRROR2_COPY_3_SKETCH_H)
    extrude(amount=-MIRROR2_COPY_3_DEPTH, mode=Mode.SUBTRACT)

    # Mirror2 copy 4 sketch → Mirror2 copy 4 (cut)
    with BuildSketch(Plane(origin=(25, 0, -180), x_dir=(0, 0, 1), z_dir=(-1, 0, 0))):
        Polygon((66.5, 28.75), (67.75, 30), (83.75, 30), (85, 28.75), (85, 26.25), (83.75, 25), (67.75, 25), (66.5, 26.25), align=None)
        Polygon((66.5, 13.75), (67.75, 15), (83.75, 15), (85, 13.75), (85, 11.25), (83.75, 10), (67.75, 10), (66.5, 11.25), align=None)
    extrude(amount=-MIRROR2_COPY_4_DEPTH, mode=Mode.SUBTRACT)


solid = part.part
